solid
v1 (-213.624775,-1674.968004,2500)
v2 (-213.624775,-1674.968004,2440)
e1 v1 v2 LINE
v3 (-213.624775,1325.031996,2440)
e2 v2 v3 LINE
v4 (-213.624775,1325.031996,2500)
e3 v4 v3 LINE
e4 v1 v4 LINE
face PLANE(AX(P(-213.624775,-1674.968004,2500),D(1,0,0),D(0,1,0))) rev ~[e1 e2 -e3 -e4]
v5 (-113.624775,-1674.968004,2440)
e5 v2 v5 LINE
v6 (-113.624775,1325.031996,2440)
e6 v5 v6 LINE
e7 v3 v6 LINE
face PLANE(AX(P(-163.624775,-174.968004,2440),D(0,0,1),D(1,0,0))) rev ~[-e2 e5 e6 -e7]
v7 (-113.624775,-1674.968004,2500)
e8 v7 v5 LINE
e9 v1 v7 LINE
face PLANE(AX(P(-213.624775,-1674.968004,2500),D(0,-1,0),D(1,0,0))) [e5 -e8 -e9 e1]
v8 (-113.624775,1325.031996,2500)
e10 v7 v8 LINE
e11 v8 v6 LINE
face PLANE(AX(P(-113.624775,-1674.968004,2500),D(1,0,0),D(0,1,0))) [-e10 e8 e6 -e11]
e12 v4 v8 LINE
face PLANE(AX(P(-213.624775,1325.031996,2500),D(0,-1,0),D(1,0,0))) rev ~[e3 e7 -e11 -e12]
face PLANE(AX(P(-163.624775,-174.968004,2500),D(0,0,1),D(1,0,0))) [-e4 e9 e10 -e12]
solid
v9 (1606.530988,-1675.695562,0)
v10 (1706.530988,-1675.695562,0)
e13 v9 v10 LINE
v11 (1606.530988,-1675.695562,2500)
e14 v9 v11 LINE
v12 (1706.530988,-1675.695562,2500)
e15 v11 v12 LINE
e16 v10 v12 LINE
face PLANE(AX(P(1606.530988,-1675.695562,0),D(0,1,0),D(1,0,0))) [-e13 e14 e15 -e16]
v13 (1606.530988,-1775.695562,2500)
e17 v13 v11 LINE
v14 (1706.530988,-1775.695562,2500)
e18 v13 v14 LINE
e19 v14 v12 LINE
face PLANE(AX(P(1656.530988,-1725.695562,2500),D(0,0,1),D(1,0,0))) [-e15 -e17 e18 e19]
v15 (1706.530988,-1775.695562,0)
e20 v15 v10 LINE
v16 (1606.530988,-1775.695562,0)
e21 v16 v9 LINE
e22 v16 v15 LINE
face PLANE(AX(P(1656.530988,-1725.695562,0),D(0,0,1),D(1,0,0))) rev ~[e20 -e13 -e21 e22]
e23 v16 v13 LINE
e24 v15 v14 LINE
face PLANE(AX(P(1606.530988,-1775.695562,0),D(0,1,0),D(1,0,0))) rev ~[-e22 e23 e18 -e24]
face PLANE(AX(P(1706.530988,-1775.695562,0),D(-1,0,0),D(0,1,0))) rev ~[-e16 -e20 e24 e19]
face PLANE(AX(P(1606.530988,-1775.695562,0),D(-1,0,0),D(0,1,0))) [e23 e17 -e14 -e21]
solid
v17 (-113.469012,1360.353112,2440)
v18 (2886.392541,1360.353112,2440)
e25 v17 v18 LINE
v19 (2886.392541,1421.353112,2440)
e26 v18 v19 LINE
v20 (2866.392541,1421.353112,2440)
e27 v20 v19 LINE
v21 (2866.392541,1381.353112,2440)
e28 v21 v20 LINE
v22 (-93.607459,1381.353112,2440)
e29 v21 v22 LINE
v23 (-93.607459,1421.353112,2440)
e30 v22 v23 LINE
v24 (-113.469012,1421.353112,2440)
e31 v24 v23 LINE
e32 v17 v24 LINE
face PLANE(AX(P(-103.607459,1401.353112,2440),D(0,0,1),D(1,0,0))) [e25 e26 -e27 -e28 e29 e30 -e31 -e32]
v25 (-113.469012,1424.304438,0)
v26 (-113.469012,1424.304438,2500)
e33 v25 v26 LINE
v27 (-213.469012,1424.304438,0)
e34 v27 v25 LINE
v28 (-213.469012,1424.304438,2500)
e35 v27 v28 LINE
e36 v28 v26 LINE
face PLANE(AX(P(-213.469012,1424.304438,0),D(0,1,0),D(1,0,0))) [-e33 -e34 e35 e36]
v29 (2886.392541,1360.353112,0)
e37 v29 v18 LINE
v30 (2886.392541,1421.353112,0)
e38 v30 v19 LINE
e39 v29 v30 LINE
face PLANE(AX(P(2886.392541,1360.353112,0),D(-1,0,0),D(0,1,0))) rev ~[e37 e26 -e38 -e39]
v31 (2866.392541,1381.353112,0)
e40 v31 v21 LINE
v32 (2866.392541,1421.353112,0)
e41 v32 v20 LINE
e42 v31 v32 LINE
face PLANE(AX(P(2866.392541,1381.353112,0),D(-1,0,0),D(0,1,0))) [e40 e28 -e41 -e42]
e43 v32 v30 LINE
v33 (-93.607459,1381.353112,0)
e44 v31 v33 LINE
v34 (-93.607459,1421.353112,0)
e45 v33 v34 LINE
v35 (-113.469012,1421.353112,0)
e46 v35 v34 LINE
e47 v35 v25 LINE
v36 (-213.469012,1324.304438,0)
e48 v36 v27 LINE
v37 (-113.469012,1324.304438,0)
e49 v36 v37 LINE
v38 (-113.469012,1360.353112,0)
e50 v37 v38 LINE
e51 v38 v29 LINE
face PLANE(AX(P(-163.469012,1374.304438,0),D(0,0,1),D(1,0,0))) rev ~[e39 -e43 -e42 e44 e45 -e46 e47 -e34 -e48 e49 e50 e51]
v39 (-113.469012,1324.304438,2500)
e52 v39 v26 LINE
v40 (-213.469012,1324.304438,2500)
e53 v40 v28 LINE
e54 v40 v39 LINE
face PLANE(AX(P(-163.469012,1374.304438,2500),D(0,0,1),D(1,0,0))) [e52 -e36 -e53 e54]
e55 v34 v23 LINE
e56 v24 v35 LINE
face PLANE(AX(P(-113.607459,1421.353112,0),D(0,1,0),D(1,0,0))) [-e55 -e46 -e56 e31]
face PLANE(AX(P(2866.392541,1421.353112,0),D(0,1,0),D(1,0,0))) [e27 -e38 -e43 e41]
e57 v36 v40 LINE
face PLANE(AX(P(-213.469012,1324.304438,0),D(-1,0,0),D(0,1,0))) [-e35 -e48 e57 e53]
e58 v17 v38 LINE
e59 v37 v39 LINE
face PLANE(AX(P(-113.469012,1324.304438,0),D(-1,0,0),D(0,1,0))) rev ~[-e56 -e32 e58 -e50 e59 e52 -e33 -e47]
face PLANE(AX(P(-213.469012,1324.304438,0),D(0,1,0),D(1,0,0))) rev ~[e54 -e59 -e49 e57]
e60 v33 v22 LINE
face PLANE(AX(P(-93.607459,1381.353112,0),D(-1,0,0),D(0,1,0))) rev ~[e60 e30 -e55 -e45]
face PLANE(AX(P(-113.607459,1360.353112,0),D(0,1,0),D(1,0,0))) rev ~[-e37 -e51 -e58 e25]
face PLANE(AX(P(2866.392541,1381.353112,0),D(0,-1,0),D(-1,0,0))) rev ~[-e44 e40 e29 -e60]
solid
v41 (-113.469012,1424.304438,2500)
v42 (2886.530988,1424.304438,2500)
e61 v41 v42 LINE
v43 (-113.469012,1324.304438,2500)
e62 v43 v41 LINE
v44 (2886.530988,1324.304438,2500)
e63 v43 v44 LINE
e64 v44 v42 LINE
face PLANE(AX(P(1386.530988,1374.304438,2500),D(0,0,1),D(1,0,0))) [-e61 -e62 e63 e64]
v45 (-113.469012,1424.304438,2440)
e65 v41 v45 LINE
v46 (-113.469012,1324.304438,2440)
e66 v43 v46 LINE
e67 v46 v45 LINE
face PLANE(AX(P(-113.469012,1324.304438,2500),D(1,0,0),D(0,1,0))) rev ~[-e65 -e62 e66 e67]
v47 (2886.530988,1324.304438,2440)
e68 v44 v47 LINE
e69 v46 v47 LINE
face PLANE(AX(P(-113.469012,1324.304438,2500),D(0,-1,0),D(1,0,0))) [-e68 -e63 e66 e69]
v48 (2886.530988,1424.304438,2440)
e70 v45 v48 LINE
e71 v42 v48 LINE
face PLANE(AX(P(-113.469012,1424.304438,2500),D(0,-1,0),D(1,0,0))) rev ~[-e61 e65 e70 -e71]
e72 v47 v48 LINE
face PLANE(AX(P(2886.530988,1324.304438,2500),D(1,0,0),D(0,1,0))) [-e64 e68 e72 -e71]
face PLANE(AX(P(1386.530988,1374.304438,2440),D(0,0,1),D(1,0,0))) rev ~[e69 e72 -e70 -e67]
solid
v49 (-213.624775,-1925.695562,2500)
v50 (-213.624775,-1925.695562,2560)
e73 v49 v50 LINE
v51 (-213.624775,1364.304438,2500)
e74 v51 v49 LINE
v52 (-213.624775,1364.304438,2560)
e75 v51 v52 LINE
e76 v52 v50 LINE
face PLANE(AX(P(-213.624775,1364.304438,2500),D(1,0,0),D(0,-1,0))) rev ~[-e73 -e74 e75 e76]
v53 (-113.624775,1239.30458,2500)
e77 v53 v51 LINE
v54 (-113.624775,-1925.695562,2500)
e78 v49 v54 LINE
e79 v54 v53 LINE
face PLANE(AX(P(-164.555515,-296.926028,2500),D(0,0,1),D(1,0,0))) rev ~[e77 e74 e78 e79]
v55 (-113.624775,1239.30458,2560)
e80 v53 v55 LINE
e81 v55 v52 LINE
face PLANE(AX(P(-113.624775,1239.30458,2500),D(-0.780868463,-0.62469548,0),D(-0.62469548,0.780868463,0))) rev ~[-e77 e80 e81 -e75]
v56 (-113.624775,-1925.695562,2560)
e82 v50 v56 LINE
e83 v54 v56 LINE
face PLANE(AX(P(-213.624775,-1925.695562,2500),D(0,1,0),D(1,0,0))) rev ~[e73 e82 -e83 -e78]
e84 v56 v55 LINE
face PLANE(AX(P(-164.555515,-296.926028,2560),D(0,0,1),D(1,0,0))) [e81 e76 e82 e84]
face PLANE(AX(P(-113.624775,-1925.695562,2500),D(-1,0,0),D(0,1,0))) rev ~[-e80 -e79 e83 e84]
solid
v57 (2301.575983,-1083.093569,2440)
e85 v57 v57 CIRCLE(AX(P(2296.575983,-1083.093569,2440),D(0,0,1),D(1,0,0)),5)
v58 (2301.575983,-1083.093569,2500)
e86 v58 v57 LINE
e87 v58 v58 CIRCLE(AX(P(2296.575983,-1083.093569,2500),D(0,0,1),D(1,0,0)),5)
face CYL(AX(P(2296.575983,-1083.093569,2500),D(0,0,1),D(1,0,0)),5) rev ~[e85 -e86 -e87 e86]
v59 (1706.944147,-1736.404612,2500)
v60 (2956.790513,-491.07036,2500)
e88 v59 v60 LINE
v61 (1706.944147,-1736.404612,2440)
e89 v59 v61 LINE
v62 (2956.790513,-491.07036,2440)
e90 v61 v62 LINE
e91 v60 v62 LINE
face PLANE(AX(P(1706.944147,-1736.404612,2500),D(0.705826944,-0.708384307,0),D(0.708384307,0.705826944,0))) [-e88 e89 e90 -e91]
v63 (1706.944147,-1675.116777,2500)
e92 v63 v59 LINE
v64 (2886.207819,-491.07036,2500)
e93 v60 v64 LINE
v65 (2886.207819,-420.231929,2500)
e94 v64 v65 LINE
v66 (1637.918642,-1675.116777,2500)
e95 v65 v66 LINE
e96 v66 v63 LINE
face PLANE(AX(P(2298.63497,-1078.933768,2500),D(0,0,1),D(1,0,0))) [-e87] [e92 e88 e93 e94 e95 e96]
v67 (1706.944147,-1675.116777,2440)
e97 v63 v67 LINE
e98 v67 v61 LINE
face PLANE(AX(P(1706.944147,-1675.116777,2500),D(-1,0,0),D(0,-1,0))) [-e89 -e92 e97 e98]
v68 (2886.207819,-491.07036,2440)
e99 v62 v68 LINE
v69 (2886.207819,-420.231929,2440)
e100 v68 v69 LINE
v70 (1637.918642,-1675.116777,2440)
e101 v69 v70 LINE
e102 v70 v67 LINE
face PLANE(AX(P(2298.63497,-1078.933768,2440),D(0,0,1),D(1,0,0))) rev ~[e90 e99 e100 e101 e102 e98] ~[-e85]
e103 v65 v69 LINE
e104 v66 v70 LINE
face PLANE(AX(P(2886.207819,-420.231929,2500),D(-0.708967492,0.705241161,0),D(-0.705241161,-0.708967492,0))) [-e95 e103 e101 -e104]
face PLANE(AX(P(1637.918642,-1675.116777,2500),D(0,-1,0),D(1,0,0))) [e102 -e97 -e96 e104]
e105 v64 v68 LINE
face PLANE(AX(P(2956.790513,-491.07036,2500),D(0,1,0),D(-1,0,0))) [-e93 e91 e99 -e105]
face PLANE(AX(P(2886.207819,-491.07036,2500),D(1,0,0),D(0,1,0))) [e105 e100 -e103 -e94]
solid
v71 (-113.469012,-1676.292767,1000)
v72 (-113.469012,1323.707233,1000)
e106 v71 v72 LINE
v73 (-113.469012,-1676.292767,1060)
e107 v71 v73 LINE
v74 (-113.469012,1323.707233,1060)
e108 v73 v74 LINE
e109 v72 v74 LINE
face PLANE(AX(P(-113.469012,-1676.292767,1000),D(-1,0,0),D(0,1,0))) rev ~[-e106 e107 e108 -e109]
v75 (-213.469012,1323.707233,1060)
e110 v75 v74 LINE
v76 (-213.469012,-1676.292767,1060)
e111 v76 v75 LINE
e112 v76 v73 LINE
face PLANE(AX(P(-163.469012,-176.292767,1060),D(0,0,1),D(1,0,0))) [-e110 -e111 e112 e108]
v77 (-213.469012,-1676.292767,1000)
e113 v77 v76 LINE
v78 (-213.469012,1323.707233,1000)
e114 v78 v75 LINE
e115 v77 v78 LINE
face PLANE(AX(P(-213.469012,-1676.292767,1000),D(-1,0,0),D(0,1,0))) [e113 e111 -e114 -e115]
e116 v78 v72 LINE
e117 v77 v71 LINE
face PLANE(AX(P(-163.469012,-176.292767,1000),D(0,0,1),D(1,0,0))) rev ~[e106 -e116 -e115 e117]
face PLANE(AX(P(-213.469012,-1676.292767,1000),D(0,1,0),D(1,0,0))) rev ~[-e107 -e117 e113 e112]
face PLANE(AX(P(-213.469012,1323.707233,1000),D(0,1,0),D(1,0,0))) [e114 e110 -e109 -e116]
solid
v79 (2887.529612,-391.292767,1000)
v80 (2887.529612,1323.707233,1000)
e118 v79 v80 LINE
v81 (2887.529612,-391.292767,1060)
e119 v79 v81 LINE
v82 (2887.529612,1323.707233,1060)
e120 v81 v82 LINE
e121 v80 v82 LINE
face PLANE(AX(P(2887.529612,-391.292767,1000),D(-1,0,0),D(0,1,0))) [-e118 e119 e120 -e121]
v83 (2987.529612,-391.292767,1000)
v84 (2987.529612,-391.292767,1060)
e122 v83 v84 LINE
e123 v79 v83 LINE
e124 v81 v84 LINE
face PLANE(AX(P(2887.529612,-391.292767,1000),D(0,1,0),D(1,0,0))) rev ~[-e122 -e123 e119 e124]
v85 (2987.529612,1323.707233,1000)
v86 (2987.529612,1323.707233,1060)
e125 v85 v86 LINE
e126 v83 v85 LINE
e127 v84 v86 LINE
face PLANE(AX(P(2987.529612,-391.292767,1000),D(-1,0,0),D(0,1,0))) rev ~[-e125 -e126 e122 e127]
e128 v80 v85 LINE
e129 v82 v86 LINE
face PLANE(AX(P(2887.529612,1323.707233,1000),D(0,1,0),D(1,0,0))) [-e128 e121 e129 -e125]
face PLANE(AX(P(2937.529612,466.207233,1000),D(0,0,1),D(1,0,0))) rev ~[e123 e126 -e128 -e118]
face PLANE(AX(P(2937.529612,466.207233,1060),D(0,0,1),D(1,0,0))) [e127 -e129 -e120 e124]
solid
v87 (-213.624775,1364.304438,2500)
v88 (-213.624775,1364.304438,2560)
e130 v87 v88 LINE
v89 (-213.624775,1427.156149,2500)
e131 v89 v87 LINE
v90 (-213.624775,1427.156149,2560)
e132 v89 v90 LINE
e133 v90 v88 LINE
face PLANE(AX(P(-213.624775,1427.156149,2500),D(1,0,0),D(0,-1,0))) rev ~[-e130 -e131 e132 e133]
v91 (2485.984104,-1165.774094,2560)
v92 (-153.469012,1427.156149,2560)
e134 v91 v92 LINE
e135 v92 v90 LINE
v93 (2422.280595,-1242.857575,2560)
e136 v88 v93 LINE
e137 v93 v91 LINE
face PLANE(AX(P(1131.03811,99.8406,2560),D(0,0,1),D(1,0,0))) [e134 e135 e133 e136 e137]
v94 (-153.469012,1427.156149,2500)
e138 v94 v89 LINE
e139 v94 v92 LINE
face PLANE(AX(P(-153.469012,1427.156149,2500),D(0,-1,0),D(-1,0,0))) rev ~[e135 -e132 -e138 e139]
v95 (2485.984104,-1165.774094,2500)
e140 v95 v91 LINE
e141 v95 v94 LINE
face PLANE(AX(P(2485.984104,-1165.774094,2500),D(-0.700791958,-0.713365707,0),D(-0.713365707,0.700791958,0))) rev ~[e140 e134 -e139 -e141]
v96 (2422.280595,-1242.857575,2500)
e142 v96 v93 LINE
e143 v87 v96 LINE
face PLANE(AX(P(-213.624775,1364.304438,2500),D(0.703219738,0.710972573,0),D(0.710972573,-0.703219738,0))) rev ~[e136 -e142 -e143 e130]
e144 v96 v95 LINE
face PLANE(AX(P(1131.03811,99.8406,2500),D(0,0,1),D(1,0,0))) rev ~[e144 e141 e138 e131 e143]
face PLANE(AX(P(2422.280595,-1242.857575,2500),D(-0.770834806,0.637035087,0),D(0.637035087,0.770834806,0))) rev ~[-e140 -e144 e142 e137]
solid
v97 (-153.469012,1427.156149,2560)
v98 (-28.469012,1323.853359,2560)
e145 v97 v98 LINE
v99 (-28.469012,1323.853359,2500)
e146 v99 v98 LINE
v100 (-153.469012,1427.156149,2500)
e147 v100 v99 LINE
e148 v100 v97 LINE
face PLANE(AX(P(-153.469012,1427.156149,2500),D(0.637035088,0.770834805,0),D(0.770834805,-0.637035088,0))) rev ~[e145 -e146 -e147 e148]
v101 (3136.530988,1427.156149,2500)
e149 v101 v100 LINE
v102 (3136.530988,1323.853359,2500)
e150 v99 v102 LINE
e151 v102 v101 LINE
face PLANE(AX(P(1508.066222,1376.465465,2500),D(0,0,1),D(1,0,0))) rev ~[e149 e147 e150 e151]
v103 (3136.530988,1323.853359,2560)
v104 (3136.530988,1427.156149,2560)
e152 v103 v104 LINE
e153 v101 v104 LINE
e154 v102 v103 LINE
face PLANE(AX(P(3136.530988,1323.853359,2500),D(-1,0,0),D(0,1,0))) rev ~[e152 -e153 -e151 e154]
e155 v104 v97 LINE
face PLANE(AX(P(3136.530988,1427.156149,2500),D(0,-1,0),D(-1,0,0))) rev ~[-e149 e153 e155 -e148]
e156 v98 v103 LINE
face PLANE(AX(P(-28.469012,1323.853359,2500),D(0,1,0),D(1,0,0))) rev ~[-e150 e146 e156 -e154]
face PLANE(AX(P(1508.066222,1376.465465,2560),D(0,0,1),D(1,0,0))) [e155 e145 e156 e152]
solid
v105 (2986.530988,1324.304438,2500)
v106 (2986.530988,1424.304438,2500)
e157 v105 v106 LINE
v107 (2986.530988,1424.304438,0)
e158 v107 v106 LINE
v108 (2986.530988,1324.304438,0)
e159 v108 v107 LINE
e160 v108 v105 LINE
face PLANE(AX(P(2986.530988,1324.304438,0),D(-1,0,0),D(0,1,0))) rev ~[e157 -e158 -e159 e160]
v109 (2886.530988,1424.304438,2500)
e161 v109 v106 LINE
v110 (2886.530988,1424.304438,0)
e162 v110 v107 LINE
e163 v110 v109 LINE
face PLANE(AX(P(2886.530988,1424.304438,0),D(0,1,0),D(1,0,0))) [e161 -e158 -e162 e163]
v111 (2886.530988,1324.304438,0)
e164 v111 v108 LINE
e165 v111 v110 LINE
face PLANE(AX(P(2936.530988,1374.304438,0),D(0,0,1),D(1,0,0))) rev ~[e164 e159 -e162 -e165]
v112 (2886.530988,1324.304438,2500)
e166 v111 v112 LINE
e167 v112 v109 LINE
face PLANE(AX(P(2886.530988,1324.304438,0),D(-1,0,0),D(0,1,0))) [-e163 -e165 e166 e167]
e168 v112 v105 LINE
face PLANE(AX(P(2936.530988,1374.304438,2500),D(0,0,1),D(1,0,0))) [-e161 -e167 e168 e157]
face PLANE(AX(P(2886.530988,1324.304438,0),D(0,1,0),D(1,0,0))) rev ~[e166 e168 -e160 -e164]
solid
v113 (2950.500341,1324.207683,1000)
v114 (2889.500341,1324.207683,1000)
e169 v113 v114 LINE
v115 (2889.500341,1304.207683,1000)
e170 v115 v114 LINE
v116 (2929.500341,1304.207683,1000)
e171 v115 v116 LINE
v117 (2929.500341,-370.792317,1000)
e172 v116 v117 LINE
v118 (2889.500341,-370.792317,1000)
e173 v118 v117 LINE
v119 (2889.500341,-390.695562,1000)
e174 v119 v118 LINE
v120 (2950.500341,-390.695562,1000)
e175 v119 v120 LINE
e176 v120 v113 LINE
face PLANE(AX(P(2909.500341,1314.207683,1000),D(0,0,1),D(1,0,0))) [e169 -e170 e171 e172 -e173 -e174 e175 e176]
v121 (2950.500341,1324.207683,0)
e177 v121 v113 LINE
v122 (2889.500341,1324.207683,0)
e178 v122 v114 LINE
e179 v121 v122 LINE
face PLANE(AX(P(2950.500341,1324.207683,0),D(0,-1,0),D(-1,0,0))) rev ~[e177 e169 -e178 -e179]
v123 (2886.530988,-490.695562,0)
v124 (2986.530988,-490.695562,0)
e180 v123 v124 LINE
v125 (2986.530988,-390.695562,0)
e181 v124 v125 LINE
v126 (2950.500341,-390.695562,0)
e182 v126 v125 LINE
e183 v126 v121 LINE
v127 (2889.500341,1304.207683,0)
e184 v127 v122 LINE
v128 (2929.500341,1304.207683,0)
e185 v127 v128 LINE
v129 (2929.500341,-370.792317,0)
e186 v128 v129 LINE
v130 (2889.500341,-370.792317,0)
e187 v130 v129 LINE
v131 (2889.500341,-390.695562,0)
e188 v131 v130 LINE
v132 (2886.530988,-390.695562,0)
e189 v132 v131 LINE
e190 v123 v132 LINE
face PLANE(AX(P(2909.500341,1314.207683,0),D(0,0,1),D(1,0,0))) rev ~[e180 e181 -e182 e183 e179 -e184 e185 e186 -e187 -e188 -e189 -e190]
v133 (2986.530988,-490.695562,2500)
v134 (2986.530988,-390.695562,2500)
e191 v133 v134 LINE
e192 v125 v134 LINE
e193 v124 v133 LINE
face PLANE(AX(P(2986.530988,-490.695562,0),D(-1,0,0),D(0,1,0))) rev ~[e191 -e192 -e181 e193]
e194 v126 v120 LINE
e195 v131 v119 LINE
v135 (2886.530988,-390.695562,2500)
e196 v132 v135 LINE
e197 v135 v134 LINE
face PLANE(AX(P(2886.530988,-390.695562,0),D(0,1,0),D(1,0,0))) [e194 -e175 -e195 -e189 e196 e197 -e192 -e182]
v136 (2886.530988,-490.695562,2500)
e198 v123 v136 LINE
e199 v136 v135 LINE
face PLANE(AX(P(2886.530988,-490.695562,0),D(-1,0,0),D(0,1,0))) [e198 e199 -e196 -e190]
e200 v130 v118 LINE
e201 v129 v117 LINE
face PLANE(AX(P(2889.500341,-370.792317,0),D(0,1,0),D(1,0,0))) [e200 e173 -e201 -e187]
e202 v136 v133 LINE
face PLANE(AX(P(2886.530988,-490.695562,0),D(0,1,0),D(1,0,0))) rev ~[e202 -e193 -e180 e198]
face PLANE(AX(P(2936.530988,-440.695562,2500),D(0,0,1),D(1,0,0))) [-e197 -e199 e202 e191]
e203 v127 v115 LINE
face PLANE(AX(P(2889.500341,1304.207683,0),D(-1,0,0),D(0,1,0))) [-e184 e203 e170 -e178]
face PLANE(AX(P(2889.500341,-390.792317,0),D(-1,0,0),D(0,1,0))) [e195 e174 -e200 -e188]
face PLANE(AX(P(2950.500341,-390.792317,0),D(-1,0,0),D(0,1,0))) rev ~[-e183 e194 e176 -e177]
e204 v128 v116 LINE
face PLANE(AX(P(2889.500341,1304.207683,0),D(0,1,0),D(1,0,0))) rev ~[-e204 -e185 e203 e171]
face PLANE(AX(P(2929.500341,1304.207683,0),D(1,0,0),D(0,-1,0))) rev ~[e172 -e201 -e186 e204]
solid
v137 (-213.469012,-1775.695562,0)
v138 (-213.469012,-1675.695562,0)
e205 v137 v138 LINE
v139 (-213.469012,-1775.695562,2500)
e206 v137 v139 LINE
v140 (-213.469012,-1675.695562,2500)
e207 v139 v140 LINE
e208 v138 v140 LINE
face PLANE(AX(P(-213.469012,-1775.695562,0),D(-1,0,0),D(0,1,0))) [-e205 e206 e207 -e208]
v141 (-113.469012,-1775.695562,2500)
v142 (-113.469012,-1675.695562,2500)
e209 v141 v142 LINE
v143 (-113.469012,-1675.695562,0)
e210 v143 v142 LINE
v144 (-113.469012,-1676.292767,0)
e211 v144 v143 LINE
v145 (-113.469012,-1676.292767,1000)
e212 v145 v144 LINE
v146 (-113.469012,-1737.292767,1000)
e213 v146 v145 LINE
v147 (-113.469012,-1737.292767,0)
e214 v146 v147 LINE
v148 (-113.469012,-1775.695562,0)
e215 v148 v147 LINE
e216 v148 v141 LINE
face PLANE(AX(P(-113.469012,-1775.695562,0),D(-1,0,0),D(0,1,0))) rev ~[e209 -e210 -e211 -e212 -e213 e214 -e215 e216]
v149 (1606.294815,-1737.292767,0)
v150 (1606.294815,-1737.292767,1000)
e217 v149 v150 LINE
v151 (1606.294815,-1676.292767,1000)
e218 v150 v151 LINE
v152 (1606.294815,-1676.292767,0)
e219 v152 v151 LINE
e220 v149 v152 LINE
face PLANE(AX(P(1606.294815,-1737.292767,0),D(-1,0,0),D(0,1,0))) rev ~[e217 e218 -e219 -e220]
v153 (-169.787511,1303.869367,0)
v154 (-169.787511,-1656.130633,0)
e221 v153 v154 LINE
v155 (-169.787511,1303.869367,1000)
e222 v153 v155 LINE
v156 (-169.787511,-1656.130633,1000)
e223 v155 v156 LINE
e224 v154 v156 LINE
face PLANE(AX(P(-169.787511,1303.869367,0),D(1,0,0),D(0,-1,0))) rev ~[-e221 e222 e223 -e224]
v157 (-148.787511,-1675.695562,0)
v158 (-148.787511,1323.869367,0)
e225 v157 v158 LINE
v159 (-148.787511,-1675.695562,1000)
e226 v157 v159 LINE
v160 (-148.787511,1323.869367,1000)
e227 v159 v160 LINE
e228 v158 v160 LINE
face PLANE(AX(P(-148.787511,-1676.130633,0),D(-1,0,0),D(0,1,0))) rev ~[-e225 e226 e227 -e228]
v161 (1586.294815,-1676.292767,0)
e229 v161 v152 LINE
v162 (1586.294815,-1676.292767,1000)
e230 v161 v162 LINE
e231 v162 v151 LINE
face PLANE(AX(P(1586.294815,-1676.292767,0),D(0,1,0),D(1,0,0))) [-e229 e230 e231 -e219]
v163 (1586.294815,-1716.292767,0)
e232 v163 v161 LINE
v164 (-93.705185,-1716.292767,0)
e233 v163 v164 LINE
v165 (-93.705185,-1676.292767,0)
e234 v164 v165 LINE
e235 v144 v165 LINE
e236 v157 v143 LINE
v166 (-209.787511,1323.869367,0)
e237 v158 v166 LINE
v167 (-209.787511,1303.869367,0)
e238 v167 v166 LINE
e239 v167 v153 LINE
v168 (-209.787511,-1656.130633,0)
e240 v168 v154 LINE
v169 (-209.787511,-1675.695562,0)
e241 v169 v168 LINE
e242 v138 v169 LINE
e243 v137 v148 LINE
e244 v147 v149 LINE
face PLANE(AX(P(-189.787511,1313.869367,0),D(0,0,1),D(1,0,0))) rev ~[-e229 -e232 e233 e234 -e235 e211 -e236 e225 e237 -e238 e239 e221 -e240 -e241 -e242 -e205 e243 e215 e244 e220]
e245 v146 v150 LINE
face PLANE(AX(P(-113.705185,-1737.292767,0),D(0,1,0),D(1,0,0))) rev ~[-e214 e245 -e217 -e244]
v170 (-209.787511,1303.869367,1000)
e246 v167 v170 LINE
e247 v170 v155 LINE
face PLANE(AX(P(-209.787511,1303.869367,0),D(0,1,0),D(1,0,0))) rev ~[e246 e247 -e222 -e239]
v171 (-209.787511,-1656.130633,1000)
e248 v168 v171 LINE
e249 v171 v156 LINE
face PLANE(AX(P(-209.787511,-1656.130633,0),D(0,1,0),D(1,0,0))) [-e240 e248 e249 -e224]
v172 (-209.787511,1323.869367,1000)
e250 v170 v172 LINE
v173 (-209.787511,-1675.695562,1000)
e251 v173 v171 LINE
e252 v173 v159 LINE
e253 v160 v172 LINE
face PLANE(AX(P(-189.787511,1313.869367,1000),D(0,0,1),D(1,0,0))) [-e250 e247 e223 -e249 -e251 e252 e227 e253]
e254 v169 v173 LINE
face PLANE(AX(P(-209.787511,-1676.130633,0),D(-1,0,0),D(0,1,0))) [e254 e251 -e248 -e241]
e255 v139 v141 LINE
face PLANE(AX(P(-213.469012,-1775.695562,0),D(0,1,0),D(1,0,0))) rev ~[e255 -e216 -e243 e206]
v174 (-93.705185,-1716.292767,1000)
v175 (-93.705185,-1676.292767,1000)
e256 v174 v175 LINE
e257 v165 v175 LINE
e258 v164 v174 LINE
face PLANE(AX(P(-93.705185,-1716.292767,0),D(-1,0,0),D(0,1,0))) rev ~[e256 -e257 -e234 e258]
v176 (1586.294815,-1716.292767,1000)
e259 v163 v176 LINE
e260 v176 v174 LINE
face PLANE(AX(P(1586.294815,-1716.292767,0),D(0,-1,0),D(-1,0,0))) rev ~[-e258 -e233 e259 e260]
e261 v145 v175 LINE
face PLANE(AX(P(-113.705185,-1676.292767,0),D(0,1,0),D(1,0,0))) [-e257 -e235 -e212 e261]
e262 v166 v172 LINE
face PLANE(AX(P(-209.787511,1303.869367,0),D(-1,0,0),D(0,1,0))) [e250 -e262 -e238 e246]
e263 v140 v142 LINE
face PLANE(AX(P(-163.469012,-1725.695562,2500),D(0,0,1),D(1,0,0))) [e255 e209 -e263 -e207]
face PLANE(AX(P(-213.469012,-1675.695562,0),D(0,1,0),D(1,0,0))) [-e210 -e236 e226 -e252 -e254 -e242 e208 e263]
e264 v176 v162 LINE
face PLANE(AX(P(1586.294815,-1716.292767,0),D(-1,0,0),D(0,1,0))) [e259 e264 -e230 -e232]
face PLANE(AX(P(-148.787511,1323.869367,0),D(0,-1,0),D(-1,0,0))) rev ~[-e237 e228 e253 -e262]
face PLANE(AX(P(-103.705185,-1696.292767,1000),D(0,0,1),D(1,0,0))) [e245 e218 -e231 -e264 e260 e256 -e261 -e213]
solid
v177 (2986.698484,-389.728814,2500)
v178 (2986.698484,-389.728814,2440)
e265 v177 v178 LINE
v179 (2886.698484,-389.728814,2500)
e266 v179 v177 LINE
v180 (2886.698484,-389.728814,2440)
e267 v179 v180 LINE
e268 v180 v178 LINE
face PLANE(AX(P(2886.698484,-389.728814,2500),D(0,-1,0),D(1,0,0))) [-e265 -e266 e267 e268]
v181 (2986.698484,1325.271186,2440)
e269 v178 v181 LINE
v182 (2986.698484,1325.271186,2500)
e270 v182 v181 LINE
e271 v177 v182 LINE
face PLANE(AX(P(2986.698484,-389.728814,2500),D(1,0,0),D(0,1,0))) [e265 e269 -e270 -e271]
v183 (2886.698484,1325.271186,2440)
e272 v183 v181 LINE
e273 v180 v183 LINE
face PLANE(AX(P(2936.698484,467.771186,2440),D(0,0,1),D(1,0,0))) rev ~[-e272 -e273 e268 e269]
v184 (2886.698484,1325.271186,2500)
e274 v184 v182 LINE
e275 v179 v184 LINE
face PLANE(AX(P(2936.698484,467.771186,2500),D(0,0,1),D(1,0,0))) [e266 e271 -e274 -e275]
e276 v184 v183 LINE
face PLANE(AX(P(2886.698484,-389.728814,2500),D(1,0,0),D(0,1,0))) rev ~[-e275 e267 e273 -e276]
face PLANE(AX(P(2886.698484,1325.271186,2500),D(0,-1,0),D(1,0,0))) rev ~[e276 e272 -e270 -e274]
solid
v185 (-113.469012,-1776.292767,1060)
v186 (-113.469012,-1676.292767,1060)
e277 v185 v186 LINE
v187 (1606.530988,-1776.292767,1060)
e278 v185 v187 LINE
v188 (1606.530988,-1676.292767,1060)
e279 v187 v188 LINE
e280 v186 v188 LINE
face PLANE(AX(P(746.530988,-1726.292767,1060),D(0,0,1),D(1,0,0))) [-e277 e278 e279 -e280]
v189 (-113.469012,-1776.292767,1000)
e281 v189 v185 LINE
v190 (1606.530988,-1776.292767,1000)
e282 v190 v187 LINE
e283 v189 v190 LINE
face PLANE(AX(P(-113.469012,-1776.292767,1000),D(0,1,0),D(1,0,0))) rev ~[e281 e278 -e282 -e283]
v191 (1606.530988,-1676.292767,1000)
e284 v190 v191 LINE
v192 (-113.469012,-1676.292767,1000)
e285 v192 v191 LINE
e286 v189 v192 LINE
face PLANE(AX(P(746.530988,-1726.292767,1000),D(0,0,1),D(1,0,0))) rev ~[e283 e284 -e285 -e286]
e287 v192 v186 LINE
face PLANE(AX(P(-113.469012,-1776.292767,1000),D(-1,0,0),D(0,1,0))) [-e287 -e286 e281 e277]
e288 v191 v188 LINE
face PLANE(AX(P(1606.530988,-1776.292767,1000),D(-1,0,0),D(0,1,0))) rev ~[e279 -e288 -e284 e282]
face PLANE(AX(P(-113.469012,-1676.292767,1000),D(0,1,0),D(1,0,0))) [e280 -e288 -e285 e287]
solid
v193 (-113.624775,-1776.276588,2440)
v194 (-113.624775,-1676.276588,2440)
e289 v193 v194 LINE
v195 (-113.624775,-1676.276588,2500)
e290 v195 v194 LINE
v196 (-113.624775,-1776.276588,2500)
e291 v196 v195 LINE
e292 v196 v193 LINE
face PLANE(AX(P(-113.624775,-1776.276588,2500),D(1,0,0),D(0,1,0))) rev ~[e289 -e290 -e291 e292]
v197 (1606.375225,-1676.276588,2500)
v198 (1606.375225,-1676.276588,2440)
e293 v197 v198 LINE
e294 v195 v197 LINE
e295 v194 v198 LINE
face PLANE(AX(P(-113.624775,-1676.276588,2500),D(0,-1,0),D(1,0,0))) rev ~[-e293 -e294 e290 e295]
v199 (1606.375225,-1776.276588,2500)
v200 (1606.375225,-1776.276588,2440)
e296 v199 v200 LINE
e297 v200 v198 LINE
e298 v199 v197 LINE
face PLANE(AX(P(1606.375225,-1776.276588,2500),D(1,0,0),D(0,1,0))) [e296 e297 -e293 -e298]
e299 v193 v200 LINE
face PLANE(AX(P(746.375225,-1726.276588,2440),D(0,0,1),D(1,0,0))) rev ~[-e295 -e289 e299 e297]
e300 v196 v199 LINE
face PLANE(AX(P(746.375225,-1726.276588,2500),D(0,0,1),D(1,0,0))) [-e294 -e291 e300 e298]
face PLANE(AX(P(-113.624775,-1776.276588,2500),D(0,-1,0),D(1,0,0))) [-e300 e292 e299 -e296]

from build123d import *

# Parameters (mm, degrees)
F0_W      = 100
F0_H      = 100
F1_DEPTH  = 2500
F2_W      = 20
F2_H      = 40
F3_DEPTH  = 2440
F4_W      = 40
F4_H      = 20
F5_DEPTH  = 1000
F6_W      = 20
F6_H      = 40
F7_DEPTH  = 1000
F8_W      = 40
F8_H      = 20
F9_DEPTH  = 1000
F10_W     = 3000
F10_H     = 100
F10_W_2   = 100
F10_H_2   = 3000
F10_W_3   = 1720
F10_H_3   = 1715
F11_DEPTH = 60
F12_W     = 1720
F12_H     = 100
F12_W_2   = 100
F12_H_2   = 3000
F12_H_3   = 1715
F13_DEPTH = 60
F15_R     = 5
F16_DEPTH = 2500.001
F17_DEPTH = 60


with BuildPart() as f1:
    # F0 (on Top) → F1 (new body)
    with BuildSketch(Plane.XY):
        with Locations((-163.469012, 1374.304438)):
            Rectangle(F0_W, F0_H)
        with Locations((2936.530988, 1374.304438)):
            Rectangle(F0_W, F0_H)
        with Locations((-163.469012, -1725.695562)):
            Rectangle(F0_W, F0_H)
        with Locations((1656.530988, -1725.695562)):
            Rectangle(F0_W, F0_H)
        with Locations((2936.530988, -440.695562)):
            Rectangle(F0_W, F0_H)
    extrude(amount=F1_DEPTH)

    # F2 (on Top) → F3 (join)
    with BuildSketch(Plane.XY):
        with Locations((-103.607459, 1401.353112)):
            Rectangle(F2_W, F2_H)
        Polygon((-93.607459, 1381.353112), (-113.607459, 1381.353112), (-113.607459, 1360.353112), (2886.392541, 1360.353112), (2886.392541, 1381.353112), (2866.392541, 1381.353112), align=None)
        with Locations((2876.392541, 1401.353112)):
            Rectangle(F2_W, F2_H)
    extrude(amount=F3_DEPTH)

    # F4 (on Top) → F5 (join)
    with BuildSketch(Plane.XY):
        with Locations((-189.787511, 1313.869367)):
            Rectangle(F4_W, F4_H)
        Polygon((-148.787511, 1323.869367), (-169.787511, 1323.869367), (-169.787511, 1303.869367), (-169.787511, -1656.130633), (-169.787511, -1676.130633), (-148.787511, -1676.130633), align=None)
        with Locations((-189.787511, -1666.130633)):
            Rectangle(F4_W, F4_H)
    extrude(amount=F5_DEPTH)

    # F6 (on Top) → F7 (join)
    with BuildSketch(Plane.XY):
        with Locations((-103.705185, -1696.292767)):
            Rectangle(F6_W, F6_H)
        Polygon((-93.705185, -1716.292767), (-113.705185, -1716.292767), (-113.705185, -1737.292767), (1606.294815, -1737.292767), (1606.294815, -1716.292767), (1586.294815, -1716.292767), align=None)
        with Locations((1596.294815, -1696.292767)):
            Rectangle(F6_W, F6_H)
    extrude(amount=F7_DEPTH)

    # F8 (on Top) → F9 (join)
    with BuildSketch(Plane.XY):
        with Locations((2909.500341, 1314.207683)):
            Rectangle(F8_W, F8_H)
        Polygon((2950.500341, 1324.207683), (2929.500341, 1324.207683), (2929.500341, 1304.207683), (2929.500341, -370.792317), (2929.500341, -390.792317), (2950.500341, -390.792317), align=None)
        with Locations((2909.500341, -380.792317)):
            Rectangle(F8_W, F8_H)
    extrude(amount=F9_DEPTH)


with BuildPart() as f11:
    # F10 (on face) → F11 (new body)
    with BuildSketch(Plane.XY.offset(2500)):
        with Locations((1386.530988, 1374.304438)):
            Rectangle(F10_W, F10_H)
        with Locations((-163.624775, -174.968004)):
            Rectangle(F10_W_2, F10_H_2)
        with Locations((746.375225, -1726.276588)):
            Rectangle(F10_W_3, F10_H)
        with Locations((2936.698484, 467.771186)):
            Rectangle(F10_W_2, F10_H_3)
        Polygon((2886.207819, -420.231929), (1637.918642, -1675.116777), (1706.944147, -1675.116777), (1706.944147, -1736.404612), (2956.790513, -491.07036), (2886.207819, -491.07036), align=None)
    extrude(amount=-F11_DEPTH)

    # F15 (on face) → F16 (cut, through all)
    with BuildSketch(Plane.XY.offset(2500)):
        with Locations((2296.575983, -1083.093569)):
            Circle(F15_R)
    extrude(amount=-F16_DEPTH, mode=Mode.SUBTRACT)


with BuildPart() as f13:
    # F12 (on face) → F13 (new body)
    with BuildSketch(Plane.XY.offset(1000)):
        with Locations((746.530988, -1726.292767)):
            Rectangle(F12_W, F12_H)
        with Locations((-163.469012, -176.292767)):
            Rectangle(F12_W_2, F12_H_2)
        with Locations((2937.529612, 466.207233)):
            Rectangle(F12_W_2, F12_H_3)
    extrude(amount=F13_DEPTH)


with BuildPart() as f17:
    # F14 (on face) → F17 (new body)
    with BuildSketch(Plane.XY.offset(2500)):
        Polygon((-113.624775, 1239.30458), (-213.624775, 1364.304438), (-213.624775, -1925.695562), (-113.624775, -1925.695562), align=None)
        Polygon((3136.530988, 1427.156149), (-153.469012, 1427.156149), (-28.469012, 1323.853359), (3136.530988, 1323.853359), align=None)
        Polygon((-213.624775, 1427.156149), (-213.624775, 1364.304438), (2422.280595, -1242.857575), (2485.984104, -1165.774094), (-153.469012, 1427.156149), align=None)
    extrude(amount=F17_DEPTH)


solid = Compound([f1.part, f11.part, f13.part, f17.part])
